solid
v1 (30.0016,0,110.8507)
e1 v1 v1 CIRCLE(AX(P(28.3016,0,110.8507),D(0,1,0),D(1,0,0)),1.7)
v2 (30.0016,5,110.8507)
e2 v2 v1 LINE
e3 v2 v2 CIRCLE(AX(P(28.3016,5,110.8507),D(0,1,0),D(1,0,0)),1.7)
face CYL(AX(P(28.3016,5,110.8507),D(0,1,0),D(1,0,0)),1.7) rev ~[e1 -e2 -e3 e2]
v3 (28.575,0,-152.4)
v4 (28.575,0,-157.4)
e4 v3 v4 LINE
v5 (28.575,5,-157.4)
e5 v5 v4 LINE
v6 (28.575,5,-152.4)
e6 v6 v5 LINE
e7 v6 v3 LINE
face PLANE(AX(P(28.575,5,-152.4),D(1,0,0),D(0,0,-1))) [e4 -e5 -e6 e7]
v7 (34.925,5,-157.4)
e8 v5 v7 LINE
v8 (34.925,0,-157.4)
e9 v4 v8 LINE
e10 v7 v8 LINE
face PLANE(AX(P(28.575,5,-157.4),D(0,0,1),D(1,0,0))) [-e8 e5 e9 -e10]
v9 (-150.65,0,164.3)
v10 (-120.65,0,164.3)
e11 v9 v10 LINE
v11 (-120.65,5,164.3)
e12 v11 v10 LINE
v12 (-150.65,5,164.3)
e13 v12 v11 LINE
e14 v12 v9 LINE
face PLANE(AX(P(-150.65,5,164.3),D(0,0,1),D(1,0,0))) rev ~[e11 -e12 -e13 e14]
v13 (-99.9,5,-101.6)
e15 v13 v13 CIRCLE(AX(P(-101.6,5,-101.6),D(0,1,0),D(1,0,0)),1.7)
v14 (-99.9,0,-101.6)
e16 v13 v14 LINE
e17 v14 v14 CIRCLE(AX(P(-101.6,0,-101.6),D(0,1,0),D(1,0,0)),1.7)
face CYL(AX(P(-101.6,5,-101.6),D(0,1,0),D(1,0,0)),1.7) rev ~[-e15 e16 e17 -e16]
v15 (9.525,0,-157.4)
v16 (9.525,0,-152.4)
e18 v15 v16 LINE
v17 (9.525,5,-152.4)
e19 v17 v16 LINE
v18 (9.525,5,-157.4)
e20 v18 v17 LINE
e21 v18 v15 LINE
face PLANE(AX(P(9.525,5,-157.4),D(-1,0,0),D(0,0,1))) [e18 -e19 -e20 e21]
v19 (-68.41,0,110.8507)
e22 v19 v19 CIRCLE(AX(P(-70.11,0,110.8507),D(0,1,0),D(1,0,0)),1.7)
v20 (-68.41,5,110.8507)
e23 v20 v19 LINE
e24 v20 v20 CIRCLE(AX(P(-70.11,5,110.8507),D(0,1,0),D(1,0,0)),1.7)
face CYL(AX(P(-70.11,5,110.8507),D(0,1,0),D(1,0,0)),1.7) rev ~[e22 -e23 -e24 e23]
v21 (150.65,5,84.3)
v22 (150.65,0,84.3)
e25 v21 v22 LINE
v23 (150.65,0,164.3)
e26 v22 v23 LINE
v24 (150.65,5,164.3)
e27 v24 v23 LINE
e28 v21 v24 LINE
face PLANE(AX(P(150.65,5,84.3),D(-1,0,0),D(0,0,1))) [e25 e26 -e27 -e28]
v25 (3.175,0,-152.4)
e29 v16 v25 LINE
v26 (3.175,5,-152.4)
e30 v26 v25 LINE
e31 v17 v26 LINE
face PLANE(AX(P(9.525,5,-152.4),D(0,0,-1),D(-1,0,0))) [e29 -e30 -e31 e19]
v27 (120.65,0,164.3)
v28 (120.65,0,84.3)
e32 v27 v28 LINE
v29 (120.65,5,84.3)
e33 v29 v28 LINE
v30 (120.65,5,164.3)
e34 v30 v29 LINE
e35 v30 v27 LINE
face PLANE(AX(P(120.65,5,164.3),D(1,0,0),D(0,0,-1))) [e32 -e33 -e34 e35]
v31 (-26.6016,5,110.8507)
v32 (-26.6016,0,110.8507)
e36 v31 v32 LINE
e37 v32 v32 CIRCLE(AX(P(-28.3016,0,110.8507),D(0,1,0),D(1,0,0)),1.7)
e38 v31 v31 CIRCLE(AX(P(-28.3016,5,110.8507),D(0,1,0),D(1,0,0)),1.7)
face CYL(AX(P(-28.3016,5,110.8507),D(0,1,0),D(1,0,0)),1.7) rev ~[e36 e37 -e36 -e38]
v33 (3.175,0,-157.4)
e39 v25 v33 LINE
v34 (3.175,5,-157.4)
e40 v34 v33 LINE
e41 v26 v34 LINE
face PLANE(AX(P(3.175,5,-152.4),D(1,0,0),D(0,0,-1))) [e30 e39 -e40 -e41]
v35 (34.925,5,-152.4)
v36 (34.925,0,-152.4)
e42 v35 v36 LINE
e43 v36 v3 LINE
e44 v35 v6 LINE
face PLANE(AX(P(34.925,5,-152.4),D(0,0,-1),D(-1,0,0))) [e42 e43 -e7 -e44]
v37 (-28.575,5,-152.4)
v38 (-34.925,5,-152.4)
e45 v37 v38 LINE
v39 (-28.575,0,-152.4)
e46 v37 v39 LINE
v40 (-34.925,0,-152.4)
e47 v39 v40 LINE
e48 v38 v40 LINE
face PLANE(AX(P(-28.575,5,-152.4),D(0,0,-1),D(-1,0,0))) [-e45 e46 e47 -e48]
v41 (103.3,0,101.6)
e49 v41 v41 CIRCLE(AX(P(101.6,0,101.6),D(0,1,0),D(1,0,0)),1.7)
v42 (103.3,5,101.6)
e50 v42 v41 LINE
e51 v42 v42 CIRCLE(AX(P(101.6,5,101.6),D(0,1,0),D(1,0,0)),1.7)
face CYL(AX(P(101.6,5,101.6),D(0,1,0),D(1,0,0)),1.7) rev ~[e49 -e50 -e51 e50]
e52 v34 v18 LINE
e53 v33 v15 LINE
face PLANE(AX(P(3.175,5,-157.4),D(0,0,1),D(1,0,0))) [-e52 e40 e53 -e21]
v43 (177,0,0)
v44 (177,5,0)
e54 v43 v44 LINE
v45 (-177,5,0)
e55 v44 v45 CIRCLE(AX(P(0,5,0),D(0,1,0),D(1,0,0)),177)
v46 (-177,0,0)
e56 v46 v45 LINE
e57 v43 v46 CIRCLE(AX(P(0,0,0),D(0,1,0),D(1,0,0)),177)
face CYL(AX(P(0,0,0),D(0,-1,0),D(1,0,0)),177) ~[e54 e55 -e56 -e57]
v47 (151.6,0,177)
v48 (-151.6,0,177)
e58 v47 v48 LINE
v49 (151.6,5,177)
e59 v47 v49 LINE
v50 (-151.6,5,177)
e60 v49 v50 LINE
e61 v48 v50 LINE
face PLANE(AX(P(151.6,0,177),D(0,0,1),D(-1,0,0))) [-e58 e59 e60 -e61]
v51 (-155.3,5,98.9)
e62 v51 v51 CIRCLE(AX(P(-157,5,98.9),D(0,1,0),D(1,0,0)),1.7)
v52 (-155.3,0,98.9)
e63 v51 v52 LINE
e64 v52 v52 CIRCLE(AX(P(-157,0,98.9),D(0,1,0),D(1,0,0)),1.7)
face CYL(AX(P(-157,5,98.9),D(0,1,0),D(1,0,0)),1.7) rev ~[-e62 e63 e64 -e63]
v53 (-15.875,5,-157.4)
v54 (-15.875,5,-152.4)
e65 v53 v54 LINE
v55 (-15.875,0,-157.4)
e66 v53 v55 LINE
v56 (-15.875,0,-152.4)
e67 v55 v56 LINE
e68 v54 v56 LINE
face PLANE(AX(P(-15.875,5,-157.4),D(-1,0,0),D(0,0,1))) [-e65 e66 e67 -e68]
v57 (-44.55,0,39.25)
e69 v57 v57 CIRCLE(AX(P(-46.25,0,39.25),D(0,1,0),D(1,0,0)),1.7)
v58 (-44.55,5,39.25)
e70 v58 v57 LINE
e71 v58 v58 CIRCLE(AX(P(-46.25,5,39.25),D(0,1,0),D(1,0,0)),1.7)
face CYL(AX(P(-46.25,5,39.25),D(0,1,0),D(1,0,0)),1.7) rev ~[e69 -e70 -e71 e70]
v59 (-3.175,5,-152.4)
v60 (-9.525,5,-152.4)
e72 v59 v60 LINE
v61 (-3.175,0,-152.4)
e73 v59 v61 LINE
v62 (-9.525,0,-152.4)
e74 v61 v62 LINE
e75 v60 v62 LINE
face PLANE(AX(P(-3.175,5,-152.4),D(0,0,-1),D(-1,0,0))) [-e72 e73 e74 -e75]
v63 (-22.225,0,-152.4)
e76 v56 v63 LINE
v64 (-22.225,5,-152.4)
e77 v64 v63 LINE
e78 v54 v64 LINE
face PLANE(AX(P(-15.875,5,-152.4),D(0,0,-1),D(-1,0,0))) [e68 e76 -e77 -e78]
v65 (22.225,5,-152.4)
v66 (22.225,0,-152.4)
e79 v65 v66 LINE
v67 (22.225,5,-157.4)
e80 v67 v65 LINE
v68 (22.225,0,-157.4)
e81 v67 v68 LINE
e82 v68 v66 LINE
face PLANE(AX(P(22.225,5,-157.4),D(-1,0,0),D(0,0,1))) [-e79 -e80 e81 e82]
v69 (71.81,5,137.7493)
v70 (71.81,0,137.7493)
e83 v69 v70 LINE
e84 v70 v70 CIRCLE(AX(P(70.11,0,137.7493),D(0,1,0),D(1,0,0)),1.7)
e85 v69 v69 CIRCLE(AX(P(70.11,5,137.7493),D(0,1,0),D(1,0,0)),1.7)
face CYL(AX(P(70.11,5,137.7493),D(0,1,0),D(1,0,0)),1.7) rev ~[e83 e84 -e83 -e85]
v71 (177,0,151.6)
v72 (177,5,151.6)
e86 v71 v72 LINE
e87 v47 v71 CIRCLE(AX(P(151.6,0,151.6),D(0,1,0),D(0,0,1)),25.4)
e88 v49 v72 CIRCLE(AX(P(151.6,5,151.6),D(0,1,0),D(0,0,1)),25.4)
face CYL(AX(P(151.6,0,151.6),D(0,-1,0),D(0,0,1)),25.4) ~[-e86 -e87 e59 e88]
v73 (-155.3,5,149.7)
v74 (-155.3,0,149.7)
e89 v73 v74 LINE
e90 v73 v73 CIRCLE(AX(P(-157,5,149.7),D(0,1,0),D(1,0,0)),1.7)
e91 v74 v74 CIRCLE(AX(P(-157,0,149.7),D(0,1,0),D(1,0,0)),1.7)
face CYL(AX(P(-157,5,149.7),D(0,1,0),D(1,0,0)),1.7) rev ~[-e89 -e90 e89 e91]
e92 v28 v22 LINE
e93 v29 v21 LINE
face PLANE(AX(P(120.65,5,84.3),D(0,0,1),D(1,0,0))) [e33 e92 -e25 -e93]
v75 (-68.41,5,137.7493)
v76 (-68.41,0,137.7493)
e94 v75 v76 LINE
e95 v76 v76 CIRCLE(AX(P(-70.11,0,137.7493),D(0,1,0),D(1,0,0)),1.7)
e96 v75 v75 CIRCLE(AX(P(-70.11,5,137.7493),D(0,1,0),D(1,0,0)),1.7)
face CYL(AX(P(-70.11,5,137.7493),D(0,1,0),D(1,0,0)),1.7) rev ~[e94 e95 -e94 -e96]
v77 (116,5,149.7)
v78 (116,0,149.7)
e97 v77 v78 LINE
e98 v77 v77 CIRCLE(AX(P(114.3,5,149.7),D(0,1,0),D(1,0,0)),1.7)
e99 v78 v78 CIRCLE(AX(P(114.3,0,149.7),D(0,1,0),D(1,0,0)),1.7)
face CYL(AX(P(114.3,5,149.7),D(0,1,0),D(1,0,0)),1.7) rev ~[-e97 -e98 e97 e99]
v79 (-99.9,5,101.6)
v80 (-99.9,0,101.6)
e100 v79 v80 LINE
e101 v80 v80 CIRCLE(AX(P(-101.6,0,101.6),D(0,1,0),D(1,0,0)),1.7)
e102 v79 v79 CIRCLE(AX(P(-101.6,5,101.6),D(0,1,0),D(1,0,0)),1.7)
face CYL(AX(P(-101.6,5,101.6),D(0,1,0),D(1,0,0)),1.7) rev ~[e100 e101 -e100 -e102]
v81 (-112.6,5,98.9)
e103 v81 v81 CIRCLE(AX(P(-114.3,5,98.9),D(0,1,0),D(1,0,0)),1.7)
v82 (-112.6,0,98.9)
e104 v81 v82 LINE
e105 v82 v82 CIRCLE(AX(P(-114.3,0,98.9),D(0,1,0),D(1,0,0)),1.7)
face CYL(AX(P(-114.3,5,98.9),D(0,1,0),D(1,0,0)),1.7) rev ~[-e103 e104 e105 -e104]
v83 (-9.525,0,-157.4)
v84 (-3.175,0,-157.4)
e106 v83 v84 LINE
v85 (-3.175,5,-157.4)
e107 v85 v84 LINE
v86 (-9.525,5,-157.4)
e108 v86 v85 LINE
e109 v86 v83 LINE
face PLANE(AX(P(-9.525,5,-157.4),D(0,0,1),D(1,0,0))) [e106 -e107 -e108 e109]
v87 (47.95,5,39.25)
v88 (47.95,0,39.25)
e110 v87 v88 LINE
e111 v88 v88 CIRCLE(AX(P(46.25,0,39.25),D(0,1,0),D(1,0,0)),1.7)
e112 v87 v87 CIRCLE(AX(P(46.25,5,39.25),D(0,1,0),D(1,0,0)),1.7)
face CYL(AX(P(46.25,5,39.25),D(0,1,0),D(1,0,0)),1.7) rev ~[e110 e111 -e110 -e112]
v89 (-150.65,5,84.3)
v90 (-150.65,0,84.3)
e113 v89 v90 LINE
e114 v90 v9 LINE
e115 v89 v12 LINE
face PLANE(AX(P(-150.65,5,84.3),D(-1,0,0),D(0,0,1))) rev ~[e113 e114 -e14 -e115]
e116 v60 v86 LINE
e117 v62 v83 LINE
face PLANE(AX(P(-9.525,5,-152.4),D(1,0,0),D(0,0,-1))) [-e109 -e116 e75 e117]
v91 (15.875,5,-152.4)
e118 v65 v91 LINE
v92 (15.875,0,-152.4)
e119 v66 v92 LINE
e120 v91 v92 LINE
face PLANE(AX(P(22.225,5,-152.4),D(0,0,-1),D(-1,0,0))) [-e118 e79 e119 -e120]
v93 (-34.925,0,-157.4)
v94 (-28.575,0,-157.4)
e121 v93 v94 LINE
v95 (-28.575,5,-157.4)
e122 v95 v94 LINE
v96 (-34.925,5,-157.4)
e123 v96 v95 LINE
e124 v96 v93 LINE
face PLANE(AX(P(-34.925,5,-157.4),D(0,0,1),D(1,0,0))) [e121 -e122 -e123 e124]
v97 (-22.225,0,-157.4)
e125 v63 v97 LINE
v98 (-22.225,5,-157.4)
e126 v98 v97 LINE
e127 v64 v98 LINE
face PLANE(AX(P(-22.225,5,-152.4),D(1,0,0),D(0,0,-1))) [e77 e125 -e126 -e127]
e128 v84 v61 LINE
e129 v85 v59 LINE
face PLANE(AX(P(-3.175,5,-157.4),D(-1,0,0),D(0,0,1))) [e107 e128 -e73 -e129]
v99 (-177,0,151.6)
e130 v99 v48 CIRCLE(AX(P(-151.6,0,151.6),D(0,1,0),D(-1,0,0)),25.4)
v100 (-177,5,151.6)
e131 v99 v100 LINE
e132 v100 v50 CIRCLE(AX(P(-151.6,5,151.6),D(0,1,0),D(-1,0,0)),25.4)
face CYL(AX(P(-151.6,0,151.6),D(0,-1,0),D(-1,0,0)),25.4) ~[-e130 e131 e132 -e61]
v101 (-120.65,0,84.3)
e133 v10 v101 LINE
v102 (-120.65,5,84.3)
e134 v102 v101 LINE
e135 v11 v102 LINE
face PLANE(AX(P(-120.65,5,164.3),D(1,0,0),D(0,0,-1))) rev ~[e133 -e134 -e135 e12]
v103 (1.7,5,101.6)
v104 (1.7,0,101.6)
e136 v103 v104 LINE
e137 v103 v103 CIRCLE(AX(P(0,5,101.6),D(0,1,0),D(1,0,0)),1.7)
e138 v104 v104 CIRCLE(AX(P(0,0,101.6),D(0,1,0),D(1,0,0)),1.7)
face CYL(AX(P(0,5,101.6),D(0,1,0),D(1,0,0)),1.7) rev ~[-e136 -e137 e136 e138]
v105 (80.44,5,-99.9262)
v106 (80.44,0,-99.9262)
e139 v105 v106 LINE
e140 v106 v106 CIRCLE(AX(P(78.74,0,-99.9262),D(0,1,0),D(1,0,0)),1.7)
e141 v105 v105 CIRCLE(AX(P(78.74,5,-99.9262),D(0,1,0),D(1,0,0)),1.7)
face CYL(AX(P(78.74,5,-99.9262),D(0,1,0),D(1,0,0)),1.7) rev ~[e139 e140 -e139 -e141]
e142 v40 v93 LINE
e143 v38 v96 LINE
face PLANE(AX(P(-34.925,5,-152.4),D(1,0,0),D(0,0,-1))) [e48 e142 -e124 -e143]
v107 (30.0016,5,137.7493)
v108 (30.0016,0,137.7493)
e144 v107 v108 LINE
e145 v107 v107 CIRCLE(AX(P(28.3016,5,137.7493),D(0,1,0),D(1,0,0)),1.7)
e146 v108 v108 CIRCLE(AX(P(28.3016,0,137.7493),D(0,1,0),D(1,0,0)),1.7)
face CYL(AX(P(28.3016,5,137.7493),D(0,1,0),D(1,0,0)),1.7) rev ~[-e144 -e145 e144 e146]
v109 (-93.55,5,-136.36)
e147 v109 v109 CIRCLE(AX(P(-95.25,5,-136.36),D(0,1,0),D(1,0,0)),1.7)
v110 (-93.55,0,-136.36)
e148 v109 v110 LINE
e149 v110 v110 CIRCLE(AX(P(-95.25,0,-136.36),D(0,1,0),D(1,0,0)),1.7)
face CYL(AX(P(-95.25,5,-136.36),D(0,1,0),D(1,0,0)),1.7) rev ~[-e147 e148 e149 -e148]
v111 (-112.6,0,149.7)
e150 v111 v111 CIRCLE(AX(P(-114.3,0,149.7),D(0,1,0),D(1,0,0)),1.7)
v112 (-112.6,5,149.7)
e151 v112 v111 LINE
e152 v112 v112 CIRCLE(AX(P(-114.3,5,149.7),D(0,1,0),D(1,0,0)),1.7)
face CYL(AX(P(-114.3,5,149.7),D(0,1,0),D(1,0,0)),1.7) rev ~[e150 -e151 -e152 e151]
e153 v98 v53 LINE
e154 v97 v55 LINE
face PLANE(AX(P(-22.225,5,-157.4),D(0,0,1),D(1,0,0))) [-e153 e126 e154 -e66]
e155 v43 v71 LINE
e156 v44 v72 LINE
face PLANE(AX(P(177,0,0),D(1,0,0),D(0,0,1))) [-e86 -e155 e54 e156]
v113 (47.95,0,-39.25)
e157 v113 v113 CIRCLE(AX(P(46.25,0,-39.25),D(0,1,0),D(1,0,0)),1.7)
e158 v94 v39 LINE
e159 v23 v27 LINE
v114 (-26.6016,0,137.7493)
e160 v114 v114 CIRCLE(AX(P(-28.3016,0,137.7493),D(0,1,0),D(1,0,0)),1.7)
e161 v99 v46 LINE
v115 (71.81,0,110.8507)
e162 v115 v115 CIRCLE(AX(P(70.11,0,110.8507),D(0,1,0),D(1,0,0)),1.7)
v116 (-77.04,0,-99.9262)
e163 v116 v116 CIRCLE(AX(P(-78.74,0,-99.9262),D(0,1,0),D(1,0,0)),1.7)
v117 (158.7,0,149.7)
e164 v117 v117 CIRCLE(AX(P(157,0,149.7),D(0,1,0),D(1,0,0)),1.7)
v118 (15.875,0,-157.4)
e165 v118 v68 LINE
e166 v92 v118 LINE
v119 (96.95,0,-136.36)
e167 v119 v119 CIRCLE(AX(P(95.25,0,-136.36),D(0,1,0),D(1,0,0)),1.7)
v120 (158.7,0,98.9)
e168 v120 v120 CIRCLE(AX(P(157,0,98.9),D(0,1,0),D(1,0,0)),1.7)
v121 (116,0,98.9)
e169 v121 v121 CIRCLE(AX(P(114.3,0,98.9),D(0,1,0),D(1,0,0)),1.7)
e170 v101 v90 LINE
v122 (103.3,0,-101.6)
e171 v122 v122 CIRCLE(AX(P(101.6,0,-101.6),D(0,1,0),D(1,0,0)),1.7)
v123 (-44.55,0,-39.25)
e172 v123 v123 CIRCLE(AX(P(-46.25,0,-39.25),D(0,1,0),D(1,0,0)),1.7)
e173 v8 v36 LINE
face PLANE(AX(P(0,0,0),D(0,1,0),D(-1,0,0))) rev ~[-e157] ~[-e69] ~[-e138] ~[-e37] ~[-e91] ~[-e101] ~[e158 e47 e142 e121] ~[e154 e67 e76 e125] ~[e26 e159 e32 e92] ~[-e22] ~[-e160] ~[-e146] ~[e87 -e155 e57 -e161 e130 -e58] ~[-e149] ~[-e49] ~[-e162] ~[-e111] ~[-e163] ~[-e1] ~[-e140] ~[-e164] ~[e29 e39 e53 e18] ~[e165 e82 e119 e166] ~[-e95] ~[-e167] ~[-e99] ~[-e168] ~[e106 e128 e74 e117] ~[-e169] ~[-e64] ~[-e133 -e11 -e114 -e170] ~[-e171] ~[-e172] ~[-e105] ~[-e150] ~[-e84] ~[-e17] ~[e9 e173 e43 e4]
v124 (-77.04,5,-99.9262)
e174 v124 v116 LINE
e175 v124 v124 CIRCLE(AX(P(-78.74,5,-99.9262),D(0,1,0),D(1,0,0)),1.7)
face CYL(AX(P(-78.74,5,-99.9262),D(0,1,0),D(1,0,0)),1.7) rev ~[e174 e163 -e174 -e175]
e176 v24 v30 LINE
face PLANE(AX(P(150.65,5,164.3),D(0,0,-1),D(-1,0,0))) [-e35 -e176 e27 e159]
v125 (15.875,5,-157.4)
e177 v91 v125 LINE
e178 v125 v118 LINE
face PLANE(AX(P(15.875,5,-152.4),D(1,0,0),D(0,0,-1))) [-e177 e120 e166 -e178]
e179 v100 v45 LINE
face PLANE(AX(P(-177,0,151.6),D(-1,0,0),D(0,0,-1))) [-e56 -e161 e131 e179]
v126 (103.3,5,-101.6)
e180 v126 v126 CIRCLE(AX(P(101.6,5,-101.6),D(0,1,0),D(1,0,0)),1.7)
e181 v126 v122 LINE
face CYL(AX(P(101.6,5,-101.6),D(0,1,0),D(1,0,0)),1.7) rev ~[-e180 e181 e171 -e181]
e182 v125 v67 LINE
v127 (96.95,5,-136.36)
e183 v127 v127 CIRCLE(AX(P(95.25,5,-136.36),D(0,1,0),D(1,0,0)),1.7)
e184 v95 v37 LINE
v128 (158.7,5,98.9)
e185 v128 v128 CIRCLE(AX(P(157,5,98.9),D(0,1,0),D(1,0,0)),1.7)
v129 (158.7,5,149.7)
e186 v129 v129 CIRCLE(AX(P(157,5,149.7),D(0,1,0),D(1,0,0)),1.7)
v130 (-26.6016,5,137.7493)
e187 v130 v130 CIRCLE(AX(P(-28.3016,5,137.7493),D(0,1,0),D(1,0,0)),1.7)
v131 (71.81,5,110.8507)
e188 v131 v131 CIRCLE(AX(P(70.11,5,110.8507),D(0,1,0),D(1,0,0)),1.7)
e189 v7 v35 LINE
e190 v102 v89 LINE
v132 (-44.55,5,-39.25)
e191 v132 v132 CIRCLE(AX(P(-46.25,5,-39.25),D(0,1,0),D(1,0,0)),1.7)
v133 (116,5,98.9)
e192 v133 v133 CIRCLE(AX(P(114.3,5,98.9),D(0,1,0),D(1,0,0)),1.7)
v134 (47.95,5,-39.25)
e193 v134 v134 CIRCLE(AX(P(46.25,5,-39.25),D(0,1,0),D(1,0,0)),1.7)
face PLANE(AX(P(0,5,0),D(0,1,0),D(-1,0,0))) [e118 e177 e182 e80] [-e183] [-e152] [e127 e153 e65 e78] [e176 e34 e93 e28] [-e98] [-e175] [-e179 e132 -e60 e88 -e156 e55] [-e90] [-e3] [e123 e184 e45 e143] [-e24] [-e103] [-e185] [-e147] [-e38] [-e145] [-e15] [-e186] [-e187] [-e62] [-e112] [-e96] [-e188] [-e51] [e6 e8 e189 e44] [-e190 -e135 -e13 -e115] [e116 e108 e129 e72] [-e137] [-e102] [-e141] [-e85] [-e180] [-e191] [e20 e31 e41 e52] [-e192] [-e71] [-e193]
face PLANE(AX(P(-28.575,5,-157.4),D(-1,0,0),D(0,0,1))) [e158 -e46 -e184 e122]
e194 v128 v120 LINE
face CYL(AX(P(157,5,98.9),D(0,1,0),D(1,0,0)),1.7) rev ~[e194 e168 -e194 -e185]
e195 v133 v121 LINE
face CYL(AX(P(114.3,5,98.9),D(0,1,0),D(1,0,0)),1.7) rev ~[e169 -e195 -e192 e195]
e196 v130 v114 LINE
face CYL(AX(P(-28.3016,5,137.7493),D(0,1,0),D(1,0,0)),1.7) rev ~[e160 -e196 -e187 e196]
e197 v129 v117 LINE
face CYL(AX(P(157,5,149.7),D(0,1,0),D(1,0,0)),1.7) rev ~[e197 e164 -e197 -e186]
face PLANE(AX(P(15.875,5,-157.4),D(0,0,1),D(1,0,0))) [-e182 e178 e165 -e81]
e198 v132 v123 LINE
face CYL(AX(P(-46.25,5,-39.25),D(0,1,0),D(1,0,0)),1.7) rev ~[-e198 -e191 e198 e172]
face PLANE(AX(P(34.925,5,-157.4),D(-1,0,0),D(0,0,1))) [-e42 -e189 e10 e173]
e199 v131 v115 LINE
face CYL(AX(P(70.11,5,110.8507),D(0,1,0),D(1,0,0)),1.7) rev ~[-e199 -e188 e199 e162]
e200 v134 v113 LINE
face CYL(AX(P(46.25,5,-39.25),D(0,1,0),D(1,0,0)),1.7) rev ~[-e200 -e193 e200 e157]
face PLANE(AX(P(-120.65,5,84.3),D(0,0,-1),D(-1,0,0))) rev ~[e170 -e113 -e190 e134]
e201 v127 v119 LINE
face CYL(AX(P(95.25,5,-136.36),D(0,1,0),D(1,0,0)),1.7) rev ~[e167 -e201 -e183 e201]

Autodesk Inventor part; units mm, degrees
ref_plane "YZ Plane" through (0, 0, 0) normal (1, 0, 0) x (0, 1, 0)
ref_plane "XZ Plane" through (0, 0, 0) normal (0, 1, 0) x (-1, 0, 0)
ref_plane "XY Plane" through (0, 0, 0) normal (0, 0, 1) x (1, 0, 0)
sketch "Sketch1" plane through (0, 0, 0) normal (0, 1, 0) x (-1, 0, 0)
  arc A0 (-177, 0) -> (177, 0) centre (0, 0) ccw
  line L0 (-177, 0) -> (-177, 151.6)
  line L1 (-151.6, 177) -> (151.6, 177)
  line L2 (177, 151.6) -> (177, 0)
  arc A1 (-151.6, 177) -> (-177, 151.6) centre (-151.6, 151.6) ccw
  arc A2 (177, 151.6) -> (151.6, 177) centre (151.6, 151.6) ccw
  point P0 (-177, 177)
  point P1 (177, 177)
  dimension "d0" = 354
  dimension "d98" = 177
  dimension "d99" = 177
  dimension "d101" = 354
  dimension "d102" = 177
  dimension "d217" = 25.4
extrude "Extrusion1" add sketch "Sketch1" along normal blind 5
sketch "Sketch8" plane through (0, 5, 0) normal (0, 1, 0) x (1, 0, 0)
  circle A0 centre (101.6, -101.6) radius 1.7
  circle A1 centre (101.6, 101.6) radius 1.7
  circle A2 centre (-101.6, 101.6) radius 1.7
  circle A3 centre (-101.6, -101.6) radius 1.7
  arc A4 (177, 0) -> (-177, 0) centre (0, 0) ccw construction
  line L0 (0, 177) -> (0, -177) construction
  line L1 (-151.6, -177) -> (151.6, -177) construction
  line L2 (-177, 0) -> (-177, -151.6) construction
  line L3 (177, -151.6) -> (177, 0) construction
  line L4 (-177, 0) -> (177, 0) construction
  circle A5 centre (0, -101.6) radius 1.7
  point P0 (0, 0)
  point P1 (-177, -177)
  point P2 (177, -177)
  dimension "d103" = 3.4
  dimension "d104" = 3.4
  dimension "d105" = 3.4
  dimension "d106" = 3.4
  dimension "d115" = 101.6
  dimension "d116" = 101.6
  dimension "d117" = 101.6
  dimension "d118" = 101.6
  dimension "d119" = 101.6
  dimension "d120" = 101.6
  dimension "d121" = 101.6
  dimension "d122" = 101.6
  dimension "d255" = 3.4
  dimension "d256" = 101.6
extrude "Stand-Offs" cut sketch "Sketch8" against normal through all
sketch "Sketch9" plane through (0, 5, 0) normal (0, 1, 0) x (1, 0, 0)
  line L0 (-150.65, -84.3) -> (-150.65, -164.3)
  line L1 (-150.65, -164.3) -> (-120.65, -164.3)
  line L2 (-120.65, -164.3) -> (-120.65, -84.3)
  line L3 (-120.65, -84.3) -> (-150.65, -84.3)
  circle A0 centre (-114.3, -98.9) radius 1.7
  circle A1 centre (-114.3, -149.7) radius 1.7
  circle A2 centre (-157, -149.7) radius 1.7
  circle A3 centre (-157, -98.9) radius 1.7
  arc A4 (177, 0) -> (-177, 0) centre (0, 0) ccw construction
  line L4 (0, 177) -> (0, -177) construction
  line L5 (-151.6, -177) -> (151.6, -177) construction
  line L6 (-120.65, -124.3) -> (-150.65, -124.3) construction
  line L7 (150.65, -164.3) -> (120.65, -164.3)
  line L8 (120.65, -164.3) -> (120.65, -84.3)
  line L9 (120.65, -84.3) -> (150.65, -84.3)
  circle A5 centre (114.3, -98.9) radius 1.7
  circle A6 centre (114.3, -149.7) radius 1.7
  line L10 (150.65, -84.3) -> (150.65, -164.3)
  circle A7 centre (157, -98.9) radius 1.7
  circle A8 centre (157, -149.7) radius 1.7
  line L11 (120.65, -124.3) -> (150.65, -124.3) construction
  line L12 (0, -177) -> (-236.8089, -177) construction
  point P0 (177, -177)
  point P1 (177.1241, 0)
  dimension "d126" = 30
  dimension "d129" = 3.4
  dimension "d130" = 3.4
  dimension "d131" = 3.4
  dimension "d132" = 3.4
  dimension "d133" = 6.35
  dimension "d134" = 6.35
  dimension "d135" = 6.35
  dimension "d136" = 6.35
  dimension "d141" = 120.65
  dimension "d143" = 80
  dimension "d144" = 25.4
  dimension "d145" = 25.4
  dimension "d146" = 25.4
  dimension "d147" = 25.4
  dimension "d236" = 12.7
extrude "Wheels" cut sketch "Sketch9" against normal through all
sketch "Sketch10" plane through (0, 5, 0) normal (0, 1, 0) x (1, 0, 0)
  circle A0 centre (-70.11, -137.7493) radius 1.7
  circle A1 centre (-28.3016, -137.7493) radius 1.7
  circle A2 centre (-70.11, -110.8507) radius 1.7
  circle A3 centre (-28.3016, -110.8507) radius 1.7
  arc A4 (177, 0) -> (-177, 0) centre (0, 0) ccw construction
  line L0 (0, 177) -> (0, -177) construction
  line L1 (-151.6, -177) -> (151.6, -177) construction
  line L2 (177, -151.6) -> (177, 0) construction
  line L3 (-177, 0) -> (-177, -151.6) construction
  line L4 (177, 0) -> (-177, 0) construction
  line L5 (-150.65, -84.3) -> (-150.65, -164.3) construction
  line L6 (-150.65, -124.3) -> (150.65, -124.3) construction
  line L7 (150.65, -84.3) -> (150.65, -164.3) construction
  line L8 (-120.65, -84.3) -> (-120.65, -164.3) construction
  circle A5 centre (70.11, -137.7493) radius 1.7
  circle A6 centre (70.11, -110.8507) radius 1.7
  circle A7 centre (28.3016, -137.7493) radius 1.7
  circle A8 centre (28.3016, -110.8507) radius 1.7
  point P0 (-177, -177)
  point P1 (177, -177)
  dimension "d150" = 3.4
  dimension "d151" = 3.4
  dimension "d152" = 3.4
  dimension "d153" = 3.4
  dimension "d154" = 26.8986
  dimension "d155" = 26.8986
  dimension "d156" = 41.8084
  dimension "d157" = 41.8084
  dimension "d161" = 50.54
  dimension "d162" = 13.4493
  dimension "d163" = 13.4493
  dimension "d166" = 13.4493
  dimension "d167" = 13.4493
extrude "Motor Mount" cut sketch "Sketch10" against normal through all
sketch "Sketch11" plane through (0, 5, 0) normal (0, 1, 0) x (1, 0, 0)
  circle A0 centre (-46.25, 39.25) radius 1.7
  circle A1 centre (46.25, 39.25) radius 1.7
  circle A2 centre (46.25, -39.25) radius 1.7
  circle A3 centre (-46.25, -39.25) radius 1.7
  line L0 (-177, 0) -> (-177, -151.6) construction
  arc A4 (177, 0) -> (-177, 0) centre (0, 0) ccw construction
  line L1 (-177, 0) -> (177, 0) construction
  line L2 (0, 177) -> (0, -177) construction
  line L3 (-151.6, -177) -> (151.6, -177) construction
  point P0 (-177, -177)
  point P1 (177, -177)
  dimension "d170" = 3.4
  dimension "d171" = 3.4
  dimension "d172" = 3.4
  dimension "d173" = 3.4
  dimension "d174" = 92.5
  dimension "d175" = 92.5
  dimension "d176" = 78.5
  dimension "d177" = 78.5
  dimension "d183" = 46.25
  dimension "d184" = 39.25
  dimension "d185" = 39.25
  dimension "d186" = 46.25
  dimension "d235" = 46.25
extrude "PCB" cut sketch "Sketch11" against normal through all
sketch "Sketch12" plane through (0, 5, 0) normal (0, 1, 0) x (1, 0, 0)
  circle A0 centre (95.25, 136.36) radius 1.7
  circle A1 centre (78.74, 99.9262) radius 1.7
  line L0 (-177, 0) -> (-177, -151.6) construction
  line L1 (-177, 0) -> (177, 0) construction
  arc A2 (177, 0) -> (-177, 0) centre (0, 0) ccw construction
  line L2 (78.74, 99.9262) -> (95.25, 136.36) construction
  circle A3 centre (-78.74, 99.9262) radius 1.7
  circle A4 centre (-95.25, 136.36) radius 1.7
  line L3 (0, 177) -> (0, 0) construction
  line L4 (115.2165, 177) -> (-115.2165, 177) construction
  circle A5 centre (101.6, 101.6) radius 1.7 construction
  circle A6 centre (-101.6, 101.6) radius 1.7 construction
  point P0 (-177, -177)
  dimension "d190" = 3.4
  dimension "d191" = 3.4
  dimension "d240" = 40
  dimension "d243" = 95.25
  dimension "d244" = 40
  dimension "d245" = 3.4
  dimension "d246" = 3.4
  dimension "d247" = 40.64
  dimension "d248" = 6.35
  dimension "d249" = 95.25
  dimension "d250" = 6.35
  dimension "d251" = 22.86
  dimension "d252" = 22.86
  dimension "d253" = 40.64
  dimension "d254" = 34.76
extrude "Ball Caster" cut sketch "Sketch12" against normal through all
sketch "Sketch13" plane through (0, 5, 0) normal (0, 1, 0) x (1, 0, 0)
  line L0 (-34.925, 157.4) -> (-28.575, 157.4)
  line L1 (-28.575, 157.4) -> (-28.575, 152.4)
  line L2 (-28.575, 152.4) -> (-34.925, 152.4)
  line L3 (-34.925, 152.4) -> (-34.925, 157.4)
  line L4 (-22.225, 157.4) -> (-15.875, 157.4)
  line L5 (-15.875, 157.4) -> (-15.875, 152.4)
  line L6 (-15.875, 152.4) -> (-22.225, 152.4)
  line L7 (-22.225, 152.4) -> (-22.225, 157.4)
  line L8 (-9.525, 157.4) -> (-3.175, 157.4)
  line L9 (-3.175, 157.4) -> (-3.175, 152.4)
  line L10 (-3.175, 152.4) -> (-9.525, 152.4)
  line L11 (-9.525, 152.4) -> (-9.525, 157.4)
  line L12 (3.175, 157.4) -> (9.525, 157.4)
  line L13 (9.525, 157.4) -> (9.525, 152.4)
  line L14 (9.525, 152.4) -> (3.175, 152.4)
  line L15 (3.175, 152.4) -> (3.175, 157.4)
  line L16 (15.875, 157.4) -> (22.225, 157.4)
  line L17 (22.225, 157.4) -> (22.225, 152.4)
  line L18 (22.225, 152.4) -> (15.875, 152.4)
  line L19 (15.875, 152.4) -> (15.875, 157.4)
  line L20 (28.575, 157.4) -> (34.925, 157.4)
  line L21 (34.925, 157.4) -> (34.925, 152.4)
  line L22 (34.925, 152.4) -> (28.575, 152.4)
  line L23 (28.575, 152.4) -> (28.575, 157.4)
  arc A0 (177, 0) -> (-177, 0) centre (0, 0) ccw construction
  line L24 (0, 177) -> (0, -177) construction
  line L25 (-151.6, -177) -> (151.6, -177) construction
  line L26 (177, -151.6) -> (177, 0) construction
  line L27 (-177, 0) -> (-177, -151.6) construction
  line L28 (177, 0) -> (-177, 0) construction
  point P0 (-177, -177)
  point P1 (177, -177)
  dimension "d204" = 5
  dimension "d205" = 6.35
  dimension "d208" = 12.7
  dimension "d213" = 152.4
  dimension "d214" = 3.175
extrude "Switch" cut sketch "Sketch13" against normal through all
equation "\"d98\" = 0.5 * d0"
equation "\"d99\" = d98"
equation "\"d101\" = d0"
equation "\"d102\" = d99"
equation "\"m3_heat_set_insert\" = 4"
equation "\"m3_clearance\" = 3.4"
equation "\"m3_heat_set_depth\" = 7"
equation "\"hardboard_thickness\" = 5"
equation "\"robot_diameter\" = 354"
equation "\"motor_centerline_height\" = 13"
properties part number "layer1"
